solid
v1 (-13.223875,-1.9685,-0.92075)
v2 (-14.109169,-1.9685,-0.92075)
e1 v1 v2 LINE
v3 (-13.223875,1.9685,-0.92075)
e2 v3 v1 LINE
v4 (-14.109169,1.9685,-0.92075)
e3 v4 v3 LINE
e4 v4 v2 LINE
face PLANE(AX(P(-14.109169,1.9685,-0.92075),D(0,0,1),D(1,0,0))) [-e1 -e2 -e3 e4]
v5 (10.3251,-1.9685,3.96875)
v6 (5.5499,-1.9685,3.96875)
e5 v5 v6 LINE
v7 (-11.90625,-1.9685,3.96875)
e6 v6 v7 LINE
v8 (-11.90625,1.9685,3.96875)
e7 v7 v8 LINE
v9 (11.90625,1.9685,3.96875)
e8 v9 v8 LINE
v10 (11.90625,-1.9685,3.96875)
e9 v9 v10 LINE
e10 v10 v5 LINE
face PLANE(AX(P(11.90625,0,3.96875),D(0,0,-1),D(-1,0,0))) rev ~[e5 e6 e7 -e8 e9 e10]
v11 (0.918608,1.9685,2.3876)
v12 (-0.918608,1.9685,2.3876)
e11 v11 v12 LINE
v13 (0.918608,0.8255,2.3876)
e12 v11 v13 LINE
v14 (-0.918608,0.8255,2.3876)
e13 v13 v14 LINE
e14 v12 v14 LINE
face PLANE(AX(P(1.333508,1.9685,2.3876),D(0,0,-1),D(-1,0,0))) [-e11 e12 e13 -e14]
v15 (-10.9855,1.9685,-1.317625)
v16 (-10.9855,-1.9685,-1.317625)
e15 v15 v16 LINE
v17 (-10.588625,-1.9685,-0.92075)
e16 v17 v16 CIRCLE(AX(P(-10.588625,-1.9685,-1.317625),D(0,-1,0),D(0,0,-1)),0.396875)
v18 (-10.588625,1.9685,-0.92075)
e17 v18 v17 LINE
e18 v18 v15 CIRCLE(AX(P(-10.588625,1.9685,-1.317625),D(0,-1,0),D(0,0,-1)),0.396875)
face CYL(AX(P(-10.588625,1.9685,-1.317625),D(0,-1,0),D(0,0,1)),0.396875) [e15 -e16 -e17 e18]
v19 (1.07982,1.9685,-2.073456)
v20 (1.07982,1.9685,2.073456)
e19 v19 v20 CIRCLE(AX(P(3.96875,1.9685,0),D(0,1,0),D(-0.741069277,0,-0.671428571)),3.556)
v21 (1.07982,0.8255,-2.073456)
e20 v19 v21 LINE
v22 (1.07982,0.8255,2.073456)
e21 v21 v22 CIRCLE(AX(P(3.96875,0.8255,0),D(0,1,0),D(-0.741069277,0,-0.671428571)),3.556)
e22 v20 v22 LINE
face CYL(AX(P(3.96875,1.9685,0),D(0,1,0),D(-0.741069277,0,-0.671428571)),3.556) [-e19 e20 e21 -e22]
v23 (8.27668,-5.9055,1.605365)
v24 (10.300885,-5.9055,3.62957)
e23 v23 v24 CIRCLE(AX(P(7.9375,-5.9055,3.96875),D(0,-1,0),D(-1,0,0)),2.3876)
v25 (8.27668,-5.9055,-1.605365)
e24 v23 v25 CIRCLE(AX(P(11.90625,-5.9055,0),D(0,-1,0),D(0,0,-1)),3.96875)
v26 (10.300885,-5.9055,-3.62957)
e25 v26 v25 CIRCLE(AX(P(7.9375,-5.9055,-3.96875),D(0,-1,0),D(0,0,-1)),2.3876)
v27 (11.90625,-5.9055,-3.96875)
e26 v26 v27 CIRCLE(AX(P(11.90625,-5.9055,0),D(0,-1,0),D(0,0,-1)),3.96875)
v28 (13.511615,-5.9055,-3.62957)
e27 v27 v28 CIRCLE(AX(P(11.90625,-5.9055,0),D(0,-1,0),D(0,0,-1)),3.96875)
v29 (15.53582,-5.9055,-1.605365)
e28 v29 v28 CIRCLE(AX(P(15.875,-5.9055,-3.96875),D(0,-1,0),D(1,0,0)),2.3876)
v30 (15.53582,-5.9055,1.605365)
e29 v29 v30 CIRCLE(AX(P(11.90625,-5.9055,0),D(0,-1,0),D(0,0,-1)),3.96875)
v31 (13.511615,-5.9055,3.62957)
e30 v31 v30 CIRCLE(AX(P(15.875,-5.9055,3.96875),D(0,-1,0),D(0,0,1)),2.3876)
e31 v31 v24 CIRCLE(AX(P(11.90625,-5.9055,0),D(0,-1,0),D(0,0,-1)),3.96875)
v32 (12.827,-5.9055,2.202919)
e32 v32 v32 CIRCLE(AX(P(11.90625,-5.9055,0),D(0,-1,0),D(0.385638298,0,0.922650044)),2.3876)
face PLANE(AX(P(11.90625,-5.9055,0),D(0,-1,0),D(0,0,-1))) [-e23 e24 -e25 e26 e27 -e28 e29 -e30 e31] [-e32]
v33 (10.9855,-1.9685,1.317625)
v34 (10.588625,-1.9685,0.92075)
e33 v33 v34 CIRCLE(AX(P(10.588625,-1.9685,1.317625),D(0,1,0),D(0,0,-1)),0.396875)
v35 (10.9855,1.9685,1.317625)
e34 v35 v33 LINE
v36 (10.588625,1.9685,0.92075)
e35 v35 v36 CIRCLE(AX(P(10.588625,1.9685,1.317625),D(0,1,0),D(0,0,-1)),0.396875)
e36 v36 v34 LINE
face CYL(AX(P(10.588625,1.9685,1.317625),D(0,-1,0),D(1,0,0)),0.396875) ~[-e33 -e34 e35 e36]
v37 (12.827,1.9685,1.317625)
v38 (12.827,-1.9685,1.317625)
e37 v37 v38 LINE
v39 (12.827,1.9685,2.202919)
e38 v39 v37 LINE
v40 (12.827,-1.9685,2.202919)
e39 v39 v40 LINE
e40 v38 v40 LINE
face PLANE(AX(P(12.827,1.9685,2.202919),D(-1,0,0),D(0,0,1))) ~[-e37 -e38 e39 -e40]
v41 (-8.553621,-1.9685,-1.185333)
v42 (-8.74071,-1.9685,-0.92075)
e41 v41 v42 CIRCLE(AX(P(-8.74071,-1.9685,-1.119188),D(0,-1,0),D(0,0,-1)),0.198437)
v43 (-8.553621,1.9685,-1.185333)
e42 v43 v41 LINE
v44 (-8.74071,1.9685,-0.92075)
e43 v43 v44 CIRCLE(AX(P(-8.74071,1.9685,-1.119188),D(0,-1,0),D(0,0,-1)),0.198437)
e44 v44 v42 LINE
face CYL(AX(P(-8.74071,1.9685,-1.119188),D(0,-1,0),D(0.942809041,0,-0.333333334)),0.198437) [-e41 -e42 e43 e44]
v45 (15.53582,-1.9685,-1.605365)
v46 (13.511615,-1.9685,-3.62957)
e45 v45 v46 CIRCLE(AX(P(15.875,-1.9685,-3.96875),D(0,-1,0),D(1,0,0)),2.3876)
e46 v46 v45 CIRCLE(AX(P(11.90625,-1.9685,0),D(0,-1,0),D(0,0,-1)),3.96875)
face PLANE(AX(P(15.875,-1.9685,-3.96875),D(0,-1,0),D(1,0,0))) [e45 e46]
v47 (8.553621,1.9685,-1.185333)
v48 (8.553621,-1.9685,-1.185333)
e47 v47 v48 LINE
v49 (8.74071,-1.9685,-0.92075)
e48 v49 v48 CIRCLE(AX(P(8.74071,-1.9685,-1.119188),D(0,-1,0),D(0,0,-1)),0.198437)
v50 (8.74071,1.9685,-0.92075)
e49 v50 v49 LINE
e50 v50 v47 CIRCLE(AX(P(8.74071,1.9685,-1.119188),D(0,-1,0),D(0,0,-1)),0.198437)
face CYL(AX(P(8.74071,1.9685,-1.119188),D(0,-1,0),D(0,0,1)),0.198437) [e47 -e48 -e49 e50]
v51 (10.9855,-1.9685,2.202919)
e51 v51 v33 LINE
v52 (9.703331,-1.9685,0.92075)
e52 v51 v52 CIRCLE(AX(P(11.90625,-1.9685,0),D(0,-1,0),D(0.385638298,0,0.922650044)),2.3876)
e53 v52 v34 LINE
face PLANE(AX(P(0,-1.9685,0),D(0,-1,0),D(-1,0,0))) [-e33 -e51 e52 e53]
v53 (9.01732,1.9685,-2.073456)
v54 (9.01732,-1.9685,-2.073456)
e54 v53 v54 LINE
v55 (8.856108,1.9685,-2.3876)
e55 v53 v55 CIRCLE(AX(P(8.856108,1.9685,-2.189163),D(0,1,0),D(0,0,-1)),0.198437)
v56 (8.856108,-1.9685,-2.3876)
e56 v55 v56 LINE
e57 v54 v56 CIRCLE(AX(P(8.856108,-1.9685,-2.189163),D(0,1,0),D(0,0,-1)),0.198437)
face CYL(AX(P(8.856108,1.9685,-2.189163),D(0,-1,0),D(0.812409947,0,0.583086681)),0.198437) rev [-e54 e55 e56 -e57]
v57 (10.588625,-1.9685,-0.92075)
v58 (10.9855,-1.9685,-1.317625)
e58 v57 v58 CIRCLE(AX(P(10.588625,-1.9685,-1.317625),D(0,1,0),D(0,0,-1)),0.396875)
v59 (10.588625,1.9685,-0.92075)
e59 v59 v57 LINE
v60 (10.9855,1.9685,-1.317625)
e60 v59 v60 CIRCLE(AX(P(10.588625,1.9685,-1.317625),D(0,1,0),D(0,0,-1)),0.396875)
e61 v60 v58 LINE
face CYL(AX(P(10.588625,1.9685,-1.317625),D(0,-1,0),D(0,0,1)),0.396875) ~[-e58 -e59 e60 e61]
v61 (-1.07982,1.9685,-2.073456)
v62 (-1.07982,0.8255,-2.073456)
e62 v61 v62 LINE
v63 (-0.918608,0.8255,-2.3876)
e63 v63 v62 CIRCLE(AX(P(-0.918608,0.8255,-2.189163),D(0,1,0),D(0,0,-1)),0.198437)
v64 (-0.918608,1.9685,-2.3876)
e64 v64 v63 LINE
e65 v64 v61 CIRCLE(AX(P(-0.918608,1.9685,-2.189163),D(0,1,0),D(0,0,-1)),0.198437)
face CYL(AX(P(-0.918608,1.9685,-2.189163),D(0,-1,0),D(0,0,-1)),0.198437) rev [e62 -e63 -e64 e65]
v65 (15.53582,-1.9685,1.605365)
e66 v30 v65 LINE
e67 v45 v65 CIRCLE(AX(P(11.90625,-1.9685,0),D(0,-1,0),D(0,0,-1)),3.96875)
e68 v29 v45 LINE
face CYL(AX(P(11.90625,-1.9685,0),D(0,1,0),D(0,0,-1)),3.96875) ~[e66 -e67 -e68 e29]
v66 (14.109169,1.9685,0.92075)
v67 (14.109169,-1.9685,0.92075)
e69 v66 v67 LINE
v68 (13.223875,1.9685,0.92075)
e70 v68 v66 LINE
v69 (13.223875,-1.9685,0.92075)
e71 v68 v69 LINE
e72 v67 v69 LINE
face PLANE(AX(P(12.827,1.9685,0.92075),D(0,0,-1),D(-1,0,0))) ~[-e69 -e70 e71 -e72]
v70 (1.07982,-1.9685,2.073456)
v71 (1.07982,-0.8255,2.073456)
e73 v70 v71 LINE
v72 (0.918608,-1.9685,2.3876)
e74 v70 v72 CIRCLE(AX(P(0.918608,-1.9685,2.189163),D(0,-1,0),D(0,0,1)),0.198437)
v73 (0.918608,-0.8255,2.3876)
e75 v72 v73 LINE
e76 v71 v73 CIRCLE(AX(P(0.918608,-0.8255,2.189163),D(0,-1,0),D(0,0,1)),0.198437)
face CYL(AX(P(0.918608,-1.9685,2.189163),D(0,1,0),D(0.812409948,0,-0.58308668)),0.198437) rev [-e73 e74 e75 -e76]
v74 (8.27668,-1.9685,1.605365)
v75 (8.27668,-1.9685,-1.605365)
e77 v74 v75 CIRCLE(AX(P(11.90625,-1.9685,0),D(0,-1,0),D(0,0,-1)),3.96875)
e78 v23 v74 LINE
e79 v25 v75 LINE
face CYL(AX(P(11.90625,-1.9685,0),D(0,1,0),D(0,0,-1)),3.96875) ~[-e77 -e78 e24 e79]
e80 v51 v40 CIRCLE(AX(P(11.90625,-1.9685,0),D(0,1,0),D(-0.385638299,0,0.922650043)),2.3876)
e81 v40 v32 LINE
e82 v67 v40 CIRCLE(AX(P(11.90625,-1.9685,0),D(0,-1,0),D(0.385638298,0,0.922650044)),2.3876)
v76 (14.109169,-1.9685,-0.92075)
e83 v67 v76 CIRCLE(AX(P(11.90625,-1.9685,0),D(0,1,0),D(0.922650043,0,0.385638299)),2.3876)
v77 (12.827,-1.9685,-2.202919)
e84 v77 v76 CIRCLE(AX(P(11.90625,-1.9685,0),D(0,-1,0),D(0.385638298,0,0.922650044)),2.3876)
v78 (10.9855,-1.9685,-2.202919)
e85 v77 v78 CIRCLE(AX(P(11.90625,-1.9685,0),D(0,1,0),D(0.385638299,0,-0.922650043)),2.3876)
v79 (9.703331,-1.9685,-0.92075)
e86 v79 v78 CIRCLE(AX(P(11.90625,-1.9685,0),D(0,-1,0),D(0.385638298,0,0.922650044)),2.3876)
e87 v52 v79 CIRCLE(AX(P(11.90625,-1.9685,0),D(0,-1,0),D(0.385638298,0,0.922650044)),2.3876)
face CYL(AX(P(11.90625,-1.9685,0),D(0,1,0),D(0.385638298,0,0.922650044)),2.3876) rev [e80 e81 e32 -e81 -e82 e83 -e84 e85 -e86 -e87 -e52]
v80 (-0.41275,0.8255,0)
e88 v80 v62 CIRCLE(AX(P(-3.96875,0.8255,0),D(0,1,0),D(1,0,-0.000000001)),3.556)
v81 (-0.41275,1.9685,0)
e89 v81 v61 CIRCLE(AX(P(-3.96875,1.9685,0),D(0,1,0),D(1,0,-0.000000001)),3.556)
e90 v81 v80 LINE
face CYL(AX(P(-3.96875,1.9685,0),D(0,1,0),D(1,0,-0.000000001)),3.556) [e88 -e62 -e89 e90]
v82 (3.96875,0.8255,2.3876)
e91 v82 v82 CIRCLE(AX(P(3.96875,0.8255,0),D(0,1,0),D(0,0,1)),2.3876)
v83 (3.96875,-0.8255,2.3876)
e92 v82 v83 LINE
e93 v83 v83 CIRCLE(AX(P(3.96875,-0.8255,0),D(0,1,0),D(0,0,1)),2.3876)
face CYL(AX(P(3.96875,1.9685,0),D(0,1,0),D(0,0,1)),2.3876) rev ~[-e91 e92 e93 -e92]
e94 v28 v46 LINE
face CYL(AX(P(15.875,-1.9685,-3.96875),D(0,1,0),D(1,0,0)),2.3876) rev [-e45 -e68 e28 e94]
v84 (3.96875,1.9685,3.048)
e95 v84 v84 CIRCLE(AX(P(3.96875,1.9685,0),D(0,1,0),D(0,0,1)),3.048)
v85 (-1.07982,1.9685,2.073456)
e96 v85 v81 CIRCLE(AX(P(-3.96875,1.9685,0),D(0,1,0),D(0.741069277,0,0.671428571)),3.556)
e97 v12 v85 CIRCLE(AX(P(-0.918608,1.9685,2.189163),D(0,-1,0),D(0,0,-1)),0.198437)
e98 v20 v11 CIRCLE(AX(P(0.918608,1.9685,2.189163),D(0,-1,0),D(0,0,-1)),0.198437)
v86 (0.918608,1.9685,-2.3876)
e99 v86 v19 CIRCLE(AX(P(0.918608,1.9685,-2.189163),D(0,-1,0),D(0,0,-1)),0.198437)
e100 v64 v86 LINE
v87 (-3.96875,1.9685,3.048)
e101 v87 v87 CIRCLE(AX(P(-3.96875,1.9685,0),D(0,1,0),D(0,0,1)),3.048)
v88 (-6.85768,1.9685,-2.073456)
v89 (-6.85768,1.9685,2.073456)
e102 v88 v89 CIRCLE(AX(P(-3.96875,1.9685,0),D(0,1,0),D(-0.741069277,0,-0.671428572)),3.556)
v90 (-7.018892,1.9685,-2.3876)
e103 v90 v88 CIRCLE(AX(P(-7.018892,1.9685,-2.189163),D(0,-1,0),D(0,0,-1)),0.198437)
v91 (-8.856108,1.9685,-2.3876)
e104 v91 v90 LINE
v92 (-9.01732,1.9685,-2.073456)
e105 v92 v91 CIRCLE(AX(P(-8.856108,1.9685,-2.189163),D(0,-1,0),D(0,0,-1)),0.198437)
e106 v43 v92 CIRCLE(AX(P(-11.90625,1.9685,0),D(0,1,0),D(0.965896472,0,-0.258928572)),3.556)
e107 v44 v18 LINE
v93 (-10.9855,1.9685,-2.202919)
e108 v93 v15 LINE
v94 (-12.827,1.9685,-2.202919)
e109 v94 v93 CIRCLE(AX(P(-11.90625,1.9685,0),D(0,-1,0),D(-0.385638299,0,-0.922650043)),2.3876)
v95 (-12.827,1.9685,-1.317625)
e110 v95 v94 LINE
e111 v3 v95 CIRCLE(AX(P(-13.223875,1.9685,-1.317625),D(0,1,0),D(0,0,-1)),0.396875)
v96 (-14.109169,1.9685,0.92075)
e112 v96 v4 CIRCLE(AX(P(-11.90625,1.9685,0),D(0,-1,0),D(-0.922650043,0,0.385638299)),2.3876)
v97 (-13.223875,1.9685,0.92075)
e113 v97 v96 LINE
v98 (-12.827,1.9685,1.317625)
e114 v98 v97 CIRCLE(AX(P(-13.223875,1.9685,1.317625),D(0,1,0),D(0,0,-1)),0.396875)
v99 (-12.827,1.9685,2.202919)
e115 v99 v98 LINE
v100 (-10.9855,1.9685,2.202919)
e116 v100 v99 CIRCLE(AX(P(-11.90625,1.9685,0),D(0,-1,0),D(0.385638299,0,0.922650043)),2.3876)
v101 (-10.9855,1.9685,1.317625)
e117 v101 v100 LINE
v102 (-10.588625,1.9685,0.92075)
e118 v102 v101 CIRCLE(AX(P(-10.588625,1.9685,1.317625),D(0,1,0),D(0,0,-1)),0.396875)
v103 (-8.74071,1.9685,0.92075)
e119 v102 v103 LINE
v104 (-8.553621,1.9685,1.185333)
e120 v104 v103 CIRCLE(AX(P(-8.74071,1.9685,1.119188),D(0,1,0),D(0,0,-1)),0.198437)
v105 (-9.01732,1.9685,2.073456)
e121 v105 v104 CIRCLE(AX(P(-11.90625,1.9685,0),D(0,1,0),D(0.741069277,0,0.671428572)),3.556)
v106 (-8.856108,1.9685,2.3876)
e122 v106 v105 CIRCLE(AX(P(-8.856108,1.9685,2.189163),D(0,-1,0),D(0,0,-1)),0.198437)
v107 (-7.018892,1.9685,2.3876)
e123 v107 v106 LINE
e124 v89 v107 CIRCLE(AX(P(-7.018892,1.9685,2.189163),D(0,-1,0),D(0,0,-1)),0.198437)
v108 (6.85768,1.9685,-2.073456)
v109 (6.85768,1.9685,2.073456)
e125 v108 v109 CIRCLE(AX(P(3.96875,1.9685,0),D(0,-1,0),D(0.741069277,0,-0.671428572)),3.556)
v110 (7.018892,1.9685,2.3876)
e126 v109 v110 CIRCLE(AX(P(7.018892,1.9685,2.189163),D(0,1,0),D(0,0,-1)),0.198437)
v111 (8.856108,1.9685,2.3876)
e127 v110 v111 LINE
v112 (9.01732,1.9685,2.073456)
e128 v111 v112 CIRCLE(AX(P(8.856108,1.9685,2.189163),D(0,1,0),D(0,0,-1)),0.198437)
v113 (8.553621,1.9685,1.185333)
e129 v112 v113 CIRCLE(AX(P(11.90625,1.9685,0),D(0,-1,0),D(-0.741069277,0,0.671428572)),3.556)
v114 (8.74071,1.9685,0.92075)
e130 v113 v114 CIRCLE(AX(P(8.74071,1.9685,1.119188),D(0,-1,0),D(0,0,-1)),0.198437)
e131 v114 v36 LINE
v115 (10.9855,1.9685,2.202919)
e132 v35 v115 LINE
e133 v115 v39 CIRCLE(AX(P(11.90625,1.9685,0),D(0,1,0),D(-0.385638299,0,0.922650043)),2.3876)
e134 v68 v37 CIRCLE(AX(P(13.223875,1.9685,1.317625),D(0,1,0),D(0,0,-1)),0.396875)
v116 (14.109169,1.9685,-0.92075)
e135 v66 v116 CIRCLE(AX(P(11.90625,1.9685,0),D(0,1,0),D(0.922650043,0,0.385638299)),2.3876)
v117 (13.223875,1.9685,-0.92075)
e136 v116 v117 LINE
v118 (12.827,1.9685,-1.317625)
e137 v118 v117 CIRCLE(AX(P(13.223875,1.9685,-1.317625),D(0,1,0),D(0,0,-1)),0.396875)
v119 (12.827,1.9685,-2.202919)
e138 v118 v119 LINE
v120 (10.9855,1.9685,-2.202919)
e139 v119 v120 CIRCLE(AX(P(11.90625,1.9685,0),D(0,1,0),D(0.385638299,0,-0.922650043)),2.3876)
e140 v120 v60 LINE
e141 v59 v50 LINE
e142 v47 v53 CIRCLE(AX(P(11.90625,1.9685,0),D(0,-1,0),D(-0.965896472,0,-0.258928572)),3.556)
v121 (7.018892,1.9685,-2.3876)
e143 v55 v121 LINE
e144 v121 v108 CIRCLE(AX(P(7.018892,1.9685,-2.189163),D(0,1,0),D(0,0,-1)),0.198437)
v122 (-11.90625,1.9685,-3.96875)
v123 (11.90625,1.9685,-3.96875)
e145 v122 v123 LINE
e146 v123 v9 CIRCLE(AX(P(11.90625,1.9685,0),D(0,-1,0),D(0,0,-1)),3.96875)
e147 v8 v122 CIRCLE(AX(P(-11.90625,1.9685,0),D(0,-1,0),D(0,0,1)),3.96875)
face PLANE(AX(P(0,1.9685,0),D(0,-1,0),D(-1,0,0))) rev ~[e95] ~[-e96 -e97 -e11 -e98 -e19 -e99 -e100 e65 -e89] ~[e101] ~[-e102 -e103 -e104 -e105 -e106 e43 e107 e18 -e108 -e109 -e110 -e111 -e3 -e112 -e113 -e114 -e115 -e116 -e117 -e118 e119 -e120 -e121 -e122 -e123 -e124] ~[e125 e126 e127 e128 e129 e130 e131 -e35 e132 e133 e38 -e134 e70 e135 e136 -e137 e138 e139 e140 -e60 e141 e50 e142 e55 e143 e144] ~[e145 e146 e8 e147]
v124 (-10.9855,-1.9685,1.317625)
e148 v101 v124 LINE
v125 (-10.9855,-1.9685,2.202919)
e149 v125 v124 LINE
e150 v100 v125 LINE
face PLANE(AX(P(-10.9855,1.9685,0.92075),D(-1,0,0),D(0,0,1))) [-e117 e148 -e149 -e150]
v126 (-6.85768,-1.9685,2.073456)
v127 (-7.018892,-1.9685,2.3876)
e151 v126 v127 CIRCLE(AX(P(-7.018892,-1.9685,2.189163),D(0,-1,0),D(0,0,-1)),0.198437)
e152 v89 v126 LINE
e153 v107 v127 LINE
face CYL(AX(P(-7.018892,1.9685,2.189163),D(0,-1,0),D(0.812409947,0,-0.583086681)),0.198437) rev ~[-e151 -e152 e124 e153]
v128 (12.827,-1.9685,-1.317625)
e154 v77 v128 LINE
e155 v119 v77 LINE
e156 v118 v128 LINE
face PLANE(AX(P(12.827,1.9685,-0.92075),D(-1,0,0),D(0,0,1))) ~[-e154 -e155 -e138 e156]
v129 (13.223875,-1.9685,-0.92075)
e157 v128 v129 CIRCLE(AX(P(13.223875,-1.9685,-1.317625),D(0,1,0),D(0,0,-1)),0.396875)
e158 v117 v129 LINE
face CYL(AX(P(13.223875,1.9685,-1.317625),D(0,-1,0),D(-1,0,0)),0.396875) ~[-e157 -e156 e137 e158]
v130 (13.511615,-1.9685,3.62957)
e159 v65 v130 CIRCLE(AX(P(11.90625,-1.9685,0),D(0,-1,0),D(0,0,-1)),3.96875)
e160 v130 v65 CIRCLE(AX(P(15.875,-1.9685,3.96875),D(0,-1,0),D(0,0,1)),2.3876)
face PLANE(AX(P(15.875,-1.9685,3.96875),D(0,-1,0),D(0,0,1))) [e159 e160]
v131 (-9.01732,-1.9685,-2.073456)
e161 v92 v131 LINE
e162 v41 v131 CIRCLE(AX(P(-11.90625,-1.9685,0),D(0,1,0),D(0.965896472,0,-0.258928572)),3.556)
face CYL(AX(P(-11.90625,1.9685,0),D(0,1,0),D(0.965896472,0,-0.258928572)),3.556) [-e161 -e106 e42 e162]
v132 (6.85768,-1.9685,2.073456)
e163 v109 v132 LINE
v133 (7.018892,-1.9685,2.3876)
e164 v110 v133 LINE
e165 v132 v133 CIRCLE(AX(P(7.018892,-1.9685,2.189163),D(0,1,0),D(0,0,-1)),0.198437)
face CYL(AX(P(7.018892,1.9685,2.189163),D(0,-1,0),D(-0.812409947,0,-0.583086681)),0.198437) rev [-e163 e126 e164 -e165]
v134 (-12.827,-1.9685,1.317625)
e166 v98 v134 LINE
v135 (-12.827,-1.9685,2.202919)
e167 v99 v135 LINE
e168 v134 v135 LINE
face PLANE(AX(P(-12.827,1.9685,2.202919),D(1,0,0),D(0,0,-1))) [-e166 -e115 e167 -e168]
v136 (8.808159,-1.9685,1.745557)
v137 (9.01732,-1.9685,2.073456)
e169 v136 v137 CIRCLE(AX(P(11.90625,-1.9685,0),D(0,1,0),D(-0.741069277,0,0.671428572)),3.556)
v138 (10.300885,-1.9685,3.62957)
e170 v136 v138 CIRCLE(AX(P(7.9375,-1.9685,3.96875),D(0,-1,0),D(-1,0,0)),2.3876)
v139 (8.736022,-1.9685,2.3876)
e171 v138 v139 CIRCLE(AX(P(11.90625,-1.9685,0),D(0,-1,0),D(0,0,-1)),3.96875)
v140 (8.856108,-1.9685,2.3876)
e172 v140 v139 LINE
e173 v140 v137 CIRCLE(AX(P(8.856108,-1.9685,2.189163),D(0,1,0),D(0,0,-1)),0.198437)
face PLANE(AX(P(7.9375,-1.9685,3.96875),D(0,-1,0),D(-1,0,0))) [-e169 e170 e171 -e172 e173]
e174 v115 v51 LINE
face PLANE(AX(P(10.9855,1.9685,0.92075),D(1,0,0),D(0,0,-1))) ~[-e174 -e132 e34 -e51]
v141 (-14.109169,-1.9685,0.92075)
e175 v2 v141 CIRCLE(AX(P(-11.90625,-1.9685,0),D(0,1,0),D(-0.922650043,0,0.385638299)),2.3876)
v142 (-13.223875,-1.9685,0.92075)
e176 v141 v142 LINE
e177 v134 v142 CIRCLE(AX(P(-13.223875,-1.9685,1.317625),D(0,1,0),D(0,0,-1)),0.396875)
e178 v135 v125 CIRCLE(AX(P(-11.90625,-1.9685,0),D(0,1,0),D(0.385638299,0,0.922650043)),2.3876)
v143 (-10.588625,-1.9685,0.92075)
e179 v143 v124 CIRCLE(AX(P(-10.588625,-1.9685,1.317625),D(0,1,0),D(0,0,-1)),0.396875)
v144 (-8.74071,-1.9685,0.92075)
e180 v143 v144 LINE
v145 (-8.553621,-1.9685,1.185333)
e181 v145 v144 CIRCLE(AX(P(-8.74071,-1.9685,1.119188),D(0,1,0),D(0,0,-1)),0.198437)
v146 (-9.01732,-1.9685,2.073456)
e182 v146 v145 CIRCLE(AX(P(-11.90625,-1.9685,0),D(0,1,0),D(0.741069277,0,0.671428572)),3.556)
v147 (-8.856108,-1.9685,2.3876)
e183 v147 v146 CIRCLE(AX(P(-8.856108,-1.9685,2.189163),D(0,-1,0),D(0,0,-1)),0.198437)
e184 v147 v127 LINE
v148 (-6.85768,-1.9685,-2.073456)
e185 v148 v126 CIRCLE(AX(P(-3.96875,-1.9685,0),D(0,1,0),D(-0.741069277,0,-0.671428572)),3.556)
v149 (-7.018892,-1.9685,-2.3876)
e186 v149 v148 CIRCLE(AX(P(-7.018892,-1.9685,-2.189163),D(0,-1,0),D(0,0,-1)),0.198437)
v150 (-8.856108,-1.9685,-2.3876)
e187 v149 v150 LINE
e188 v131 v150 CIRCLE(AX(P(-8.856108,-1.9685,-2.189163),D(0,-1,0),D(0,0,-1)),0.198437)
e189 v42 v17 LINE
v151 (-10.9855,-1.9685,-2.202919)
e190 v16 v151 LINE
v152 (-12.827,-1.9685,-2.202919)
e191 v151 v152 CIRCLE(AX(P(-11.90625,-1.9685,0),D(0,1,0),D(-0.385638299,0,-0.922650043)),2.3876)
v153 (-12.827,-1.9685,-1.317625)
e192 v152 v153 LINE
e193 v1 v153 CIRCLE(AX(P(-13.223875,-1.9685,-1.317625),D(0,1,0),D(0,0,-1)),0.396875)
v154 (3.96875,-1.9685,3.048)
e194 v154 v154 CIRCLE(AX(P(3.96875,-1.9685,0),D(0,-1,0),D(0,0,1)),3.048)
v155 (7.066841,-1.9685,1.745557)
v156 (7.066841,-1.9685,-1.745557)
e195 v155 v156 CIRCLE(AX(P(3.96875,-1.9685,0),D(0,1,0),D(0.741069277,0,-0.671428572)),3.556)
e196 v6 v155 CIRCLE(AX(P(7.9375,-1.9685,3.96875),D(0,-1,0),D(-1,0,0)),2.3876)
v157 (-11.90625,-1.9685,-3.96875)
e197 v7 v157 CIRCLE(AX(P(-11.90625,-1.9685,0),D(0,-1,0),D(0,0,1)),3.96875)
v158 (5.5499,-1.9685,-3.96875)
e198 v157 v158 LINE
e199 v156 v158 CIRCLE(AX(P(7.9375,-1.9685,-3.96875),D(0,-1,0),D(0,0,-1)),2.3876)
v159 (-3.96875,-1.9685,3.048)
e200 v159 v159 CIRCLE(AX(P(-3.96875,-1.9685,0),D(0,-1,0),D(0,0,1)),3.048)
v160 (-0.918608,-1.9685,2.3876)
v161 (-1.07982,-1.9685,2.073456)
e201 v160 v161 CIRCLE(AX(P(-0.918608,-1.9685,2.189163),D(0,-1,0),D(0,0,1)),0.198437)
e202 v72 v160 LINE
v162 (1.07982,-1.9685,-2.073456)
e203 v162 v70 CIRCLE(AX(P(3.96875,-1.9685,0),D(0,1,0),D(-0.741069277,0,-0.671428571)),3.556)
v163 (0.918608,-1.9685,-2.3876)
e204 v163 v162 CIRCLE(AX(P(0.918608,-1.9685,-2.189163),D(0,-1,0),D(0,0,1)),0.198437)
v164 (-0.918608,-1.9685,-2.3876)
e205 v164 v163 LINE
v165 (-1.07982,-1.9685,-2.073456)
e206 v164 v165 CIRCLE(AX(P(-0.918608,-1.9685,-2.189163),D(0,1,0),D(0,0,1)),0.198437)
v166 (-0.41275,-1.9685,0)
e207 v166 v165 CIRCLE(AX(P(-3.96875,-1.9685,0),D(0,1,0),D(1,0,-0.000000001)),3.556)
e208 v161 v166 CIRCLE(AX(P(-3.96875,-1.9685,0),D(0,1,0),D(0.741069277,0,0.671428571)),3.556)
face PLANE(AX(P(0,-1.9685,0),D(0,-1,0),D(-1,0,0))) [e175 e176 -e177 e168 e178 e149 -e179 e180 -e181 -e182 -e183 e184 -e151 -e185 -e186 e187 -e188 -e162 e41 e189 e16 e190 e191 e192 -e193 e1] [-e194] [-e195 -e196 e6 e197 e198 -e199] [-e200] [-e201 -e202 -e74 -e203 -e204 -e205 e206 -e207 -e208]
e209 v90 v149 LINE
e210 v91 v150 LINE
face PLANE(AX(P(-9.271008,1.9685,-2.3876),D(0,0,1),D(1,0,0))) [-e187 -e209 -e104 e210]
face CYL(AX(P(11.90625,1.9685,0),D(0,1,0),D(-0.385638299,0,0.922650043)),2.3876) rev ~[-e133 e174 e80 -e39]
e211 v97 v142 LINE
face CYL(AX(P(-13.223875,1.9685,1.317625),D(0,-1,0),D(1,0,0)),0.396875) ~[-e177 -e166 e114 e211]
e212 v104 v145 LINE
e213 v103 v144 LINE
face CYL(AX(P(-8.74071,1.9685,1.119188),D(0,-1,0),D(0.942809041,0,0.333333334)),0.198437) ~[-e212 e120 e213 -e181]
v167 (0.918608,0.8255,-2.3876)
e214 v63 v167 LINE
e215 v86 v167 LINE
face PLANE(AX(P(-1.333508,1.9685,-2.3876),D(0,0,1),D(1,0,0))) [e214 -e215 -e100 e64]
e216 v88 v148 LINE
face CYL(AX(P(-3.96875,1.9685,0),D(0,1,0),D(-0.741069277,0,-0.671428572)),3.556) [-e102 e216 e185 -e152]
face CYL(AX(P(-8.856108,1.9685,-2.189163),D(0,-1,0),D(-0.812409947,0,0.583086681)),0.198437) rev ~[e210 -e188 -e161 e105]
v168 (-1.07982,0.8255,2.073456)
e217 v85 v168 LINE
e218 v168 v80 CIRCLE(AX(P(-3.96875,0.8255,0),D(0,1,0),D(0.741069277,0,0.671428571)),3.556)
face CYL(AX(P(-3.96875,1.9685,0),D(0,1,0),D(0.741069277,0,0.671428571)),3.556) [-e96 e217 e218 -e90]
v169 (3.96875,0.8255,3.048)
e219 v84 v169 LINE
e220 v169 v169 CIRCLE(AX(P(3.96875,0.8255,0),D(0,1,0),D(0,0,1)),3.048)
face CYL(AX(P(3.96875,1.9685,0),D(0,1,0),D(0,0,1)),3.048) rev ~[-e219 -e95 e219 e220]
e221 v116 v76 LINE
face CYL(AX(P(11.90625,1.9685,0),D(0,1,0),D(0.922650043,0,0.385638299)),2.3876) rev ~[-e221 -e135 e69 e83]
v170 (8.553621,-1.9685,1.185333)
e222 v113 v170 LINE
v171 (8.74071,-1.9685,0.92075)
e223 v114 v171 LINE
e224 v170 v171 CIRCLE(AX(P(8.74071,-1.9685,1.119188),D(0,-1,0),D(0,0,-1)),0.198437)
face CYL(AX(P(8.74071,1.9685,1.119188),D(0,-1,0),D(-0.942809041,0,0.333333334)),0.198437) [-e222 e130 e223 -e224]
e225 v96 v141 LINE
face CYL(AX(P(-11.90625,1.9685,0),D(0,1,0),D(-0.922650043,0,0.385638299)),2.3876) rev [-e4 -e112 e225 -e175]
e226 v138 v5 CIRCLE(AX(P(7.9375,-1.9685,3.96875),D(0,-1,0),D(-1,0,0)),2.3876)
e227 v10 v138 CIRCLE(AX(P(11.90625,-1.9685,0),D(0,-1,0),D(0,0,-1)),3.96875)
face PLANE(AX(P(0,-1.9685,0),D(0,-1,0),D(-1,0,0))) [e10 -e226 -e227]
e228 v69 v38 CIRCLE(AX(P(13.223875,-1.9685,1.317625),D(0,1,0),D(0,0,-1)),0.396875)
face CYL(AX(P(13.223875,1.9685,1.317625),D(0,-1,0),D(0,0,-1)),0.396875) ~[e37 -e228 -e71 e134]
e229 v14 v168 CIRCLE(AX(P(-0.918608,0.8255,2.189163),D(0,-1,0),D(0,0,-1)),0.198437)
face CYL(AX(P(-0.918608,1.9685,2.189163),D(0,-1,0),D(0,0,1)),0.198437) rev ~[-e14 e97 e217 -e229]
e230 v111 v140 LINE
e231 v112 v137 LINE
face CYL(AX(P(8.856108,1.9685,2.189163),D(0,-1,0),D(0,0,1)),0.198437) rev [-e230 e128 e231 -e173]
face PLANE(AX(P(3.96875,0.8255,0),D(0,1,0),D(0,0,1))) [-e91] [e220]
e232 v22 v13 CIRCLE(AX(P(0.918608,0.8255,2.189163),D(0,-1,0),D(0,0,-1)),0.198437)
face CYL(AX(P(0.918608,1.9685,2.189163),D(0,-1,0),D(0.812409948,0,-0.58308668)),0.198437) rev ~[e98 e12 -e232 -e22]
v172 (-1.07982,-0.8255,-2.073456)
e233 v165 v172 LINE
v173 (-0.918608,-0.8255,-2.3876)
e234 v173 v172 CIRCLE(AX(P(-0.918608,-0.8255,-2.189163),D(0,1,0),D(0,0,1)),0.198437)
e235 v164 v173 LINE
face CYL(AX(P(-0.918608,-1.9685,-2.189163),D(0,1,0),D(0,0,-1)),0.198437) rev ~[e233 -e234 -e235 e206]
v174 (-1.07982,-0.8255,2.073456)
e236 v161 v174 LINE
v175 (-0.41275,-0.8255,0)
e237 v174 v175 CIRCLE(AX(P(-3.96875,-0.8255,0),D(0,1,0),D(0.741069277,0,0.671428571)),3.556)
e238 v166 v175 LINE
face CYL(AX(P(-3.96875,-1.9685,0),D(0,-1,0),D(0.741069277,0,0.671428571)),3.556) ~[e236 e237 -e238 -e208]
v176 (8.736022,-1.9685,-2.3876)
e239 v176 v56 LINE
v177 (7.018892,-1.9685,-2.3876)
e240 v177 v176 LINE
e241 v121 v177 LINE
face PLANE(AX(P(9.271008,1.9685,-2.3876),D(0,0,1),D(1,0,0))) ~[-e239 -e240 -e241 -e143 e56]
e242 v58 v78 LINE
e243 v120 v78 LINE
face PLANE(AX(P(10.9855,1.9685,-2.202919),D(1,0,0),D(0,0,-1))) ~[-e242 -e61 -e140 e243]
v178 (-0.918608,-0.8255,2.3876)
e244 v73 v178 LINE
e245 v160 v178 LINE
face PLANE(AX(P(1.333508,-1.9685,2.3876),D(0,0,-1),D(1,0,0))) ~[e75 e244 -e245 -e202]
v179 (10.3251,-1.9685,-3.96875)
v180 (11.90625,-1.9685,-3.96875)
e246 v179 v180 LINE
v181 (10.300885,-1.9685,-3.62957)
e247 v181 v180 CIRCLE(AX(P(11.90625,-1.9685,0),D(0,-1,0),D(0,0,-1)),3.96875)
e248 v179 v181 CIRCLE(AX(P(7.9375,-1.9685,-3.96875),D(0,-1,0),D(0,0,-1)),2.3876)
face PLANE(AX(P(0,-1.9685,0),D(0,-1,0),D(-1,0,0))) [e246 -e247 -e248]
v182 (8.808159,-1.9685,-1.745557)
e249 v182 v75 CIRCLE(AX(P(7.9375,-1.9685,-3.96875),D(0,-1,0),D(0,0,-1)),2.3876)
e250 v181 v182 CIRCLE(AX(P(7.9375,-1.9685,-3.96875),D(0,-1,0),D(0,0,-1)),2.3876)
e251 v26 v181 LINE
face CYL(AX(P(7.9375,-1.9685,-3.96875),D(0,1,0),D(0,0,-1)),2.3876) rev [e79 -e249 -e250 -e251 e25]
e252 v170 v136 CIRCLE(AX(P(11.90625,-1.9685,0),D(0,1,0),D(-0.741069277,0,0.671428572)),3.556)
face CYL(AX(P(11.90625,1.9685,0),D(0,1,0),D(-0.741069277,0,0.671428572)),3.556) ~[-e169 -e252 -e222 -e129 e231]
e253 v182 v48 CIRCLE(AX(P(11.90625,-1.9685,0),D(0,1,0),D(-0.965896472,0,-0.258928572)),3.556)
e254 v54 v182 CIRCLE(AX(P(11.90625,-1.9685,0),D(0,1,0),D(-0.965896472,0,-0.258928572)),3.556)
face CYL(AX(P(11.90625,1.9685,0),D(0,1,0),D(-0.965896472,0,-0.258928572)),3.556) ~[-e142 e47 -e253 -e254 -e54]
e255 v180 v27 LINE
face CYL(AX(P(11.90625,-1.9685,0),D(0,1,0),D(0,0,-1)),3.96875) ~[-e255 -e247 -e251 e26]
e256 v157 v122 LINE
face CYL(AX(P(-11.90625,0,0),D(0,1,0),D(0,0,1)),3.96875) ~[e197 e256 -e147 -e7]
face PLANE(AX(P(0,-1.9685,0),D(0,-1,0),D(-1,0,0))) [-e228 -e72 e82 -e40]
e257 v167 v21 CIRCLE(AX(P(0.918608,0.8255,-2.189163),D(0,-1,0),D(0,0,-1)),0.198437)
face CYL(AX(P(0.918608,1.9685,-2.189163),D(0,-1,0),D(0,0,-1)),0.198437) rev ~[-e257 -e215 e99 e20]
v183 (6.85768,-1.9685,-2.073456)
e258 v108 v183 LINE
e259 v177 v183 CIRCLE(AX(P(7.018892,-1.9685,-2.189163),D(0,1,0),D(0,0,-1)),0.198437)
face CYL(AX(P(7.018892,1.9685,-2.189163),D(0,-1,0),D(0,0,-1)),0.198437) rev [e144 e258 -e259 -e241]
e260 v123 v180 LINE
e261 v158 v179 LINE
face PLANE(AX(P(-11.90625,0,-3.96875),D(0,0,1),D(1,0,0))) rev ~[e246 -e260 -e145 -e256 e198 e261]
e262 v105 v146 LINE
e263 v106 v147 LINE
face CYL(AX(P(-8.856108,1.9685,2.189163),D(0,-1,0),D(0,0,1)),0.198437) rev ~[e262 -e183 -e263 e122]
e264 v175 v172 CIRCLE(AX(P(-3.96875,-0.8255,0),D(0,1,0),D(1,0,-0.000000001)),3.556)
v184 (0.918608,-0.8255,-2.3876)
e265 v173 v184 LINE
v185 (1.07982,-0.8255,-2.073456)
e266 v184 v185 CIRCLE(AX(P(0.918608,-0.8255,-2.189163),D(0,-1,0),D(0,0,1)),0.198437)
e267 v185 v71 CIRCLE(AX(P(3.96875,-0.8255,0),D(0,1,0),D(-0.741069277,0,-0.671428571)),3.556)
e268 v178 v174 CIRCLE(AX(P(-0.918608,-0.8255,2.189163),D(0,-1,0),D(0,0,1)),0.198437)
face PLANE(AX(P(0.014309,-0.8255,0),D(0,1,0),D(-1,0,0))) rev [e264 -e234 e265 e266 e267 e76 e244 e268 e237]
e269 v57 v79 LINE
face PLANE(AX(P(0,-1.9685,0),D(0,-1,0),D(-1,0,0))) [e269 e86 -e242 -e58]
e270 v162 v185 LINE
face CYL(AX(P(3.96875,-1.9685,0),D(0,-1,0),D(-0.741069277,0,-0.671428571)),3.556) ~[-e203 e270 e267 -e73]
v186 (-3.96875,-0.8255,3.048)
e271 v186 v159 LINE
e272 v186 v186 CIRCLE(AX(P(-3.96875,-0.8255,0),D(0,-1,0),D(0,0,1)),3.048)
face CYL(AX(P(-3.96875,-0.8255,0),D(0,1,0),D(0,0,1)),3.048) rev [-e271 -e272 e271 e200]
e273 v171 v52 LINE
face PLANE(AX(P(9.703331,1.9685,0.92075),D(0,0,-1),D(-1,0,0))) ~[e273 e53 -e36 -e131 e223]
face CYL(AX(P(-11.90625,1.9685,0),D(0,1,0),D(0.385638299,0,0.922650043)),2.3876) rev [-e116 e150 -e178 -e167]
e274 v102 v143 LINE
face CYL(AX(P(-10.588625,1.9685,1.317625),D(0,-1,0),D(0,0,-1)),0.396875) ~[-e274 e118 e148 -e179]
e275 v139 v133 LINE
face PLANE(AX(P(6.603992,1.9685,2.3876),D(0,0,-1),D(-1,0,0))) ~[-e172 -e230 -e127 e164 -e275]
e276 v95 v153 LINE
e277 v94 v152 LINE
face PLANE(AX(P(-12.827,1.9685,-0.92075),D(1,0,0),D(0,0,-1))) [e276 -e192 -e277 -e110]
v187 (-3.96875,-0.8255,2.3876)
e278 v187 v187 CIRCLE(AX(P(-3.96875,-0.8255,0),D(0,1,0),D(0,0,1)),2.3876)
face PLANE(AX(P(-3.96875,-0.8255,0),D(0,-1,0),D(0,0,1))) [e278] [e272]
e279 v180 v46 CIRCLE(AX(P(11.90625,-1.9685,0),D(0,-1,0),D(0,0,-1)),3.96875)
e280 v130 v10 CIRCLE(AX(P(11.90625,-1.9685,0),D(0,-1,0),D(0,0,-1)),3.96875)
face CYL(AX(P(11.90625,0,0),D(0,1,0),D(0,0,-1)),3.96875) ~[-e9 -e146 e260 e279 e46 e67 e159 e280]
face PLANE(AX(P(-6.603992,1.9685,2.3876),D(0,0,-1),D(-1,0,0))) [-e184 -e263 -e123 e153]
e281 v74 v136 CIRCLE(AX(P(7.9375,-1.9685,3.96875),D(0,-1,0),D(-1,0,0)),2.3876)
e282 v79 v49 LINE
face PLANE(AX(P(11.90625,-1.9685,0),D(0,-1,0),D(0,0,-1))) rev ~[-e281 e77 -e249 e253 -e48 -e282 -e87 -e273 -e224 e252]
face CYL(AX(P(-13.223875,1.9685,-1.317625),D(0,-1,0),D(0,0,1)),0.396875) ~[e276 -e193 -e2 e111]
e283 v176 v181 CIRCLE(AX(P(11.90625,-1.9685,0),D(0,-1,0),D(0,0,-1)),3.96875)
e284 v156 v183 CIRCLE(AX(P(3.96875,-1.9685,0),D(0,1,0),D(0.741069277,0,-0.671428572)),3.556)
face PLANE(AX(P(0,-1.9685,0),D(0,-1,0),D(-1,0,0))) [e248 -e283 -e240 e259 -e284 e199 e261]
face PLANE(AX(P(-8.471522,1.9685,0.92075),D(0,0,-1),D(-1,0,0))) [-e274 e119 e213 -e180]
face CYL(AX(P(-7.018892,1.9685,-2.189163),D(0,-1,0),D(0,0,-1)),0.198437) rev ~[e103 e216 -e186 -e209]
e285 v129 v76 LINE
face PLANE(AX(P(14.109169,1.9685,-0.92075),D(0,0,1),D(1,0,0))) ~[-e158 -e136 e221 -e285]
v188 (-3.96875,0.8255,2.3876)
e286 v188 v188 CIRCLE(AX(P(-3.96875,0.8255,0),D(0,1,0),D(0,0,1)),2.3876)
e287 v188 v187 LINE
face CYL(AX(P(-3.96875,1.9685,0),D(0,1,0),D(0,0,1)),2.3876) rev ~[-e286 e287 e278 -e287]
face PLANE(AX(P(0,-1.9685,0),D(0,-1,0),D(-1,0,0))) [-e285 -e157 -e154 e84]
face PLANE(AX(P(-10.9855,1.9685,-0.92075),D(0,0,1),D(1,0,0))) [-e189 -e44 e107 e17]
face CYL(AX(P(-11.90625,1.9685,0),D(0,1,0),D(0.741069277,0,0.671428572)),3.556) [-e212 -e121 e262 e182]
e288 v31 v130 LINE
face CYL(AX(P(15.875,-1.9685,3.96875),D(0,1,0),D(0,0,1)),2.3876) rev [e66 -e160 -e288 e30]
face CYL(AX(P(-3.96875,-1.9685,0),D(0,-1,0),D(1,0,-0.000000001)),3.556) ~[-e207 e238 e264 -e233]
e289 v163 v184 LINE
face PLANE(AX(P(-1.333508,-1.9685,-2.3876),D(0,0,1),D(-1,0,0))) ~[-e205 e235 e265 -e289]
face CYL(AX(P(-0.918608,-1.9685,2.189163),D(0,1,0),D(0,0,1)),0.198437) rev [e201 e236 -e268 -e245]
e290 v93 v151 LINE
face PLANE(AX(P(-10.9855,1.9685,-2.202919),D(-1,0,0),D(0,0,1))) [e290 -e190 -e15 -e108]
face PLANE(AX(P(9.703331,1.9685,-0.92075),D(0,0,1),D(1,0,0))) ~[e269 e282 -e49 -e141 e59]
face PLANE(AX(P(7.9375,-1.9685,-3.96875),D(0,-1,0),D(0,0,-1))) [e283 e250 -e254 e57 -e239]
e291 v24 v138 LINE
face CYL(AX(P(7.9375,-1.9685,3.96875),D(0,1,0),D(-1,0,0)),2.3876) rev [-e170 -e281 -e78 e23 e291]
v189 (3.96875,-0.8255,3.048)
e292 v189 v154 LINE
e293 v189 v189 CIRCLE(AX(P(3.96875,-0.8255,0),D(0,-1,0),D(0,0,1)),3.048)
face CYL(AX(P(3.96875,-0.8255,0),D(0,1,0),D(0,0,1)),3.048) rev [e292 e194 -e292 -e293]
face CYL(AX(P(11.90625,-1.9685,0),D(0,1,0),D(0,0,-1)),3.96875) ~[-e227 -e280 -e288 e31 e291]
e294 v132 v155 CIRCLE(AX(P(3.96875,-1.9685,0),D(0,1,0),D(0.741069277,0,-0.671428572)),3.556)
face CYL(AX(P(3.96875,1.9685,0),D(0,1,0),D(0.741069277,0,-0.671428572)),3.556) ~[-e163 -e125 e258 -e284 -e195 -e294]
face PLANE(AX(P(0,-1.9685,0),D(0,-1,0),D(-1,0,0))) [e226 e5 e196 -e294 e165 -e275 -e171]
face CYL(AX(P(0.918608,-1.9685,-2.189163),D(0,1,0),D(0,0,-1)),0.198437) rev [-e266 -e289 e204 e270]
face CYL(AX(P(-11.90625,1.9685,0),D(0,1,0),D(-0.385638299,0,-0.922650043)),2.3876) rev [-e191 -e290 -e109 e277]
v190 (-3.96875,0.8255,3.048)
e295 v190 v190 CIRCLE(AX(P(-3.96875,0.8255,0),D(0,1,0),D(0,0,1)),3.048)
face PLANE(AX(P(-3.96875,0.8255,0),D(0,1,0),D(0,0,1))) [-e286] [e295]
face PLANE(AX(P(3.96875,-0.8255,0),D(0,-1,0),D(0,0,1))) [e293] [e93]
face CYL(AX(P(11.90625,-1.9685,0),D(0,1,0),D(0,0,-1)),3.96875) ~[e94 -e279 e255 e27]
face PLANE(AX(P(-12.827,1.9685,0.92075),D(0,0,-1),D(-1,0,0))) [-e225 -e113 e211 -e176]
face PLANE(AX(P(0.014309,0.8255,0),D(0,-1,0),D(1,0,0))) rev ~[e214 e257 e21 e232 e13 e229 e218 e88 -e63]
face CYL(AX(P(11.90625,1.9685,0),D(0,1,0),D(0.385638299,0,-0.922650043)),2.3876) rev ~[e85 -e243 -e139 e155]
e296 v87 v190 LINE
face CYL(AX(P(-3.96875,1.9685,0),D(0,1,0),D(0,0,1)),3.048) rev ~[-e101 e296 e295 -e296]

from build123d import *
from build123d.topology import SkipClean

# Parameters (mm, degrees)
BASE_EXTRUDE_DEPTH   = 1.9685
SKETCH2_R            = 2.3876
CUT_EXTRUDE1_DEPTH   = 17.830524964
SKETCH3_R            = 3.048
CUT_EXTRUDE2_DEPTH   = 1.143
CUT_EXTRUDE3_START   = -1.143
SKETCH4_R            = 3.048
CUT_EXTRUDE3_DEPTH   = 1.143
LPATTERN1_COUNT      = 2
LPATTERN1_PITCH      = 7.9375
CUT_EXTRUDE4_DEPTH   = 17.830524964
FILLET1_R            = 0.396875
CUT_EXTRUDE5_DEPTH   = 17.830524964
FILLET2_R            = 0.1984375
FILLET1_OF_MIRROR1_R = 0.396875
FILLET2_OF_MIRROR1_R = 0.1984375
CUT_EXTRUDE6_DEPTH   = 1.143
FILLET3_R            = 0.1984375
FILLET3_OF_MIRROR2_R = 0.1984375
SKETCH8_R            = 3.96875
SKETCH8_R_2          = 2.3876
BOSS_EXTRUDE1_DEPTH  = 3.937
CUT_EXTRUDE7_START   = -3.937
SKETCH9_R            = 2.3876
CUT_EXTRUDE7_DEPTH   = 3.937
CIRPATTERN1_COUNT    = 4


with BuildPart() as part:
    # Sketch1 → Base-Extrude (new, symmetric)
    with BuildSketch(Plane(origin=(0, 0, 0), x_dir=(1, 0, 0), z_dir=(0, 1, 0))):
        with BuildLine():
            Line((-11.90625, 3.96875), (11.90625, 3.96875))
            ThreePointArc((11.90625, 3.96875), (15.875, 0), (11.90625, -3.96875))
            Line((11.90625, -3.96875), (-11.90625, -3.96875))
            ThreePointArc((-11.90625, -3.96875), (-15.875, 0), (-11.90625, 3.96875))
        make_face()
    extrude(amount=BASE_EXTRUDE_DEPTH, both=True)

    # Sketch2 → Cut-Extrude1 (cut, through all)
    with BuildSketch(Plane(origin=(0, 1.9685, 0), x_dir=(-1, 0, 0), z_dir=(0, 1, 0))):
        with Locations(Location((3.96875, 0, 0), (0, 0, 90))):
            Circle(SKETCH2_R)
    cut_extrude1 = extrude(amount=-CUT_EXTRUDE1_DEPTH, mode=Mode.SUBTRACT)

    # Sketch3 → Cut-Extrude2 (cut)
    with BuildSketch(Plane(origin=(0, 1.9685, 0), x_dir=(-1, 0, 0), z_dir=(0, 1, 0))):
        with Locations(Location((3.96875, 0, 0), (0, 0, 90))):
            Circle(SKETCH3_R)
    cut_extrude2 = extrude(amount=-CUT_EXTRUDE2_DEPTH, mode=Mode.SUBTRACT)

    # Sketch4 → Cut-Extrude3 (cut)
    with BuildSketch(Plane.XZ.offset(1.9685).offset(CUT_EXTRUDE3_START)):
        with Locations(Location((-3.96875, 0, 0), (0, 0, 90))):
            Circle(SKETCH4_R)
    cut_extrude3 = extrude(amount=CUT_EXTRUDE3_DEPTH, mode=Mode.SUBTRACT)

    # LPattern1: Cut-Extrude1, Cut-Extrude2, Cut-Extrude3 ×2
    with Locations(*[(i * LPATTERN1_PITCH, 0, 0) for i in range(1, LPATTERN1_COUNT)]):
        add(cut_extrude1, mode=Mode.SUBTRACT)
        add(cut_extrude2, mode=Mode.SUBTRACT)
        add(cut_extrude3, mode=Mode.SUBTRACT)

    # Sketch5 → Cut-Extrude4 (cut, through all)
    with BuildSketch(Plane(origin=(0, 1.9685, 0), x_dir=(-1, 0, 0), z_dir=(0, 1, 0))):
        with BuildLine():
            Line((10.9855, -2.202919244), (10.9855, -0.92075))
            Line((10.9855, -0.92075), (9.703330756, -0.92075))
            ThreePointArc((9.703330756, -0.92075), (9.51865, 0), (9.703330756, 0.92075))
            Line((9.703330756, 0.92075), (10.9855, 0.92075))
            Line((10.9855, 0.92075), (10.9855, 2.202919244))
            ThreePointArc((10.9855, 2.202919244), (11.90625, 2.3876), (12.827, 2.202919244))
            Line((12.827, 2.202919244), (12.827, 0.92075))
            Line((12.827, 0.92075), (14.109169244, 0.92075))
            ThreePointArc((14.109169244, 0.92075), (14.29385, 0), (14.109169244, -0.92075))
            Line((14.109169244, -0.92075), (12.827, -0.92075))
            Line((12.827, -0.92075), (12.827, -2.202919244))
            ThreePointArc((12.827, -2.202919244), (11.90625, -2.3876), (10.9855, -2.202919244))
        make_face()
    cut_extrude4 = extrude(amount=-CUT_EXTRUDE4_DEPTH, mode=Mode.SUBTRACT)

    # Fillet1
    fillet1_edges = [part.edges().sort_by_distance(p)[0] for p in [
        (-10.9855, 0, 0.92075),
        (-12.827, 0, 0.92075),
        (-12.827, 0, -0.92075),
        (-10.9855, 0, -0.92075),
    ]]
    fillet(fillet1_edges, radius=FILLET1_R)

    # Sketch6 → Cut-Extrude5 (cut, through all)
    with BuildSketch(Plane(origin=(0, 1.9685, 0), x_dir=(-1, 0, 0), z_dir=(0, 1, 0))):
        with BuildLine():
            Line((9.271007651, -2.3876), (6.603992349, -2.3876))
            ThreePointArc((6.603992349, -2.3876), (7.52475, 0), (6.603992349, 2.3876))
            Line((6.603992349, 2.3876), (9.271007651, 2.3876))
            ThreePointArc((9.271007651, 2.3876), (8.783903639, 1.701789999), (8.471522145, 0.92075))
            Line((8.471522145, 0.92075), (9.703330756, 0.92075))
            ThreePointArc((9.703330756, 0.92075), (9.51865, 0), (9.703330756, -0.92075))
            Line((9.703330756, -0.92075), (8.471522145, -0.92075))
            ThreePointArc((8.471522145, -0.92075), (8.783903639, -1.701789999), (9.271007651, -2.3876))
        make_face()
    cut_extrude5 = extrude(amount=-CUT_EXTRUDE5_DEPTH, mode=Mode.SUBTRACT)

    # Fillet2
    fillet2_edges = [part.edges().sort_by_distance(p)[0] for p in [
        (-8.471522145, 0, -0.92075),
        (-9.271007651, 0, -2.3876),
        (-6.603992349, 0, -2.3876),
        (-6.603992349, 0, 2.3876),
        (-9.271007651, 0, 2.3876),
        (-8.471522145, 0, 0.92075),
    ]]
    fillet(fillet2_edges, radius=FILLET2_R)

    # Mirror1: Cut-Extrude4, Cut-Extrude5 across plane
    add(cut_extrude4.mirror(Plane(origin=(0, 0, 0), x_dir=(0, 0, 1), z_dir=(1, 0, 0))), mode=Mode.SUBTRACT)
    add(cut_extrude5.mirror(Plane(origin=(0, 0, 0), x_dir=(0, 0, 1), z_dir=(1, 0, 0))), mode=Mode.SUBTRACT)

    # Fillet1 of Mirror1
    fillet1_of_mirror1_edges = [part.edges().sort_by_distance(p)[0] for p in [
        (10.9855, 0, 0.92075),
        (12.827, 0, 0.92075),
        (12.827, 0, -0.92075),
        (10.9855, 0, -0.92075),
    ]]
    fillet(fillet1_of_mirror1_edges, radius=FILLET1_OF_MIRROR1_R)

    # Fillet2 of Mirror1
    fillet2_of_mirror1_edges = [part.edges().sort_by_distance(p)[0] for p in [
        (8.471522145, 0, -0.92075),
        (9.271007651, 0, -2.3876),
        (6.603992349, 0, -2.3876),
        (6.603992349, 0, 2.3876),
        (9.271007651, 0, 2.3876),
        (8.471522145, 0, 0.92075),
    ]]
    fillet(fillet2_of_mirror1_edges, radius=FILLET2_OF_MIRROR1_R)

    # Sketch7 → Cut-Extrude6 (cut)
    with BuildSketch(Plane(origin=(7.626637742, 1.9685, -1.750590375), x_dir=(-1, 0, 0), z_dir=(0, 1, 0))):
        with BuildLine():
            Line((8.960145393, -0.637009625), (6.293130092, -0.637009625))
            ThreePointArc((6.293130092, -0.637009625), (7.213887742, 1.750590375), (6.293130092, 4.138190375))
            Line((6.293130092, 4.138190375), (8.960145393, 4.138190375))
            ThreePointArc((8.960145393, 4.138190375), (8.277552771, 3.030085237), (8.039387742, 1.750590375))
            ThreePointArc((8.039387742, 1.750590375), (8.277552771, 0.471095513), (8.960145393, -0.637009625))
        make_face()
    cut_extrude6 = extrude(amount=-CUT_EXTRUDE6_DEPTH, mode=Mode.SUBTRACT)

    # Fillet3
    fillet3_edges = [part.edges().sort_by_distance(p)[0] for p in [
        (-1.333507651, 1.397, -2.3876),
        (1.333507651, 1.397, -2.3876),
        (1.333507651, 1.397, 2.3876),
        (-1.333507651, 1.397, 2.3876),
    ]]
    fillet(fillet3_edges, radius=FILLET3_R)

    # Mirror2: Cut-Extrude6 across plane
    add(cut_extrude6.mirror(Plane.ZX), mode=Mode.SUBTRACT)

    # Fillet3 of Mirror2
    fillet3_of_mirror2_edges = [part.edges().sort_by_distance(p)[0] for p in [
        (-1.333507651, -1.397, -2.3876),
        (1.333507651, -1.397, -2.3876),
        (1.333507651, -1.397, 2.3876),
        (-1.333507651, -1.397, 2.3876),
    ]]
    fillet(fillet3_of_mirror2_edges, radius=FILLET3_OF_MIRROR2_R)

    # Sketch8 → Boss-Extrude1 (add)
    with SkipClean():  # the faces are left unmerged after this step: merging them gives an invalid solid
        with BuildSketch(Plane.XZ.offset(1.9685)):
            with Locations(Location((11.90625, 0, 0), (0, 0, 270))):
                Circle(SKETCH8_R)
            with Locations(Location((11.90625, 0, 0), (0, 0, 67.31662771))):
                Circle(SKETCH8_R_2, mode=Mode.SUBTRACT)
        extrude(amount=BOSS_EXTRUDE1_DEPTH)

    # Sketch9 → Cut-Extrude7 (cut)
    with SkipClean():  # the faces are left unmerged after this step: merging them gives an invalid solid
        with BuildSketch(Plane.XZ.offset(5.9055).offset(CUT_EXTRUDE7_START)):
            with Locations((15.875, -3.96875)):
                Circle(SKETCH9_R)
        cut_extrude7 = extrude(amount=CUT_EXTRUDE7_DEPTH, mode=Mode.SUBTRACT)

    # CirPattern1: Cut-Extrude7 ×4 about axis
    with SkipClean():  # the faces are left unmerged after this step: merging them gives an invalid solid
        cirpattern1_axis = Axis((11.90625, 0, 0), (0, 1, 0))
        for i in range(1, CIRPATTERN1_COUNT):
            add(cut_extrude7.rotate(cirpattern1_axis, i * 360 / CIRPATTERN1_COUNT), mode=Mode.SUBTRACT)


solid = part.part
